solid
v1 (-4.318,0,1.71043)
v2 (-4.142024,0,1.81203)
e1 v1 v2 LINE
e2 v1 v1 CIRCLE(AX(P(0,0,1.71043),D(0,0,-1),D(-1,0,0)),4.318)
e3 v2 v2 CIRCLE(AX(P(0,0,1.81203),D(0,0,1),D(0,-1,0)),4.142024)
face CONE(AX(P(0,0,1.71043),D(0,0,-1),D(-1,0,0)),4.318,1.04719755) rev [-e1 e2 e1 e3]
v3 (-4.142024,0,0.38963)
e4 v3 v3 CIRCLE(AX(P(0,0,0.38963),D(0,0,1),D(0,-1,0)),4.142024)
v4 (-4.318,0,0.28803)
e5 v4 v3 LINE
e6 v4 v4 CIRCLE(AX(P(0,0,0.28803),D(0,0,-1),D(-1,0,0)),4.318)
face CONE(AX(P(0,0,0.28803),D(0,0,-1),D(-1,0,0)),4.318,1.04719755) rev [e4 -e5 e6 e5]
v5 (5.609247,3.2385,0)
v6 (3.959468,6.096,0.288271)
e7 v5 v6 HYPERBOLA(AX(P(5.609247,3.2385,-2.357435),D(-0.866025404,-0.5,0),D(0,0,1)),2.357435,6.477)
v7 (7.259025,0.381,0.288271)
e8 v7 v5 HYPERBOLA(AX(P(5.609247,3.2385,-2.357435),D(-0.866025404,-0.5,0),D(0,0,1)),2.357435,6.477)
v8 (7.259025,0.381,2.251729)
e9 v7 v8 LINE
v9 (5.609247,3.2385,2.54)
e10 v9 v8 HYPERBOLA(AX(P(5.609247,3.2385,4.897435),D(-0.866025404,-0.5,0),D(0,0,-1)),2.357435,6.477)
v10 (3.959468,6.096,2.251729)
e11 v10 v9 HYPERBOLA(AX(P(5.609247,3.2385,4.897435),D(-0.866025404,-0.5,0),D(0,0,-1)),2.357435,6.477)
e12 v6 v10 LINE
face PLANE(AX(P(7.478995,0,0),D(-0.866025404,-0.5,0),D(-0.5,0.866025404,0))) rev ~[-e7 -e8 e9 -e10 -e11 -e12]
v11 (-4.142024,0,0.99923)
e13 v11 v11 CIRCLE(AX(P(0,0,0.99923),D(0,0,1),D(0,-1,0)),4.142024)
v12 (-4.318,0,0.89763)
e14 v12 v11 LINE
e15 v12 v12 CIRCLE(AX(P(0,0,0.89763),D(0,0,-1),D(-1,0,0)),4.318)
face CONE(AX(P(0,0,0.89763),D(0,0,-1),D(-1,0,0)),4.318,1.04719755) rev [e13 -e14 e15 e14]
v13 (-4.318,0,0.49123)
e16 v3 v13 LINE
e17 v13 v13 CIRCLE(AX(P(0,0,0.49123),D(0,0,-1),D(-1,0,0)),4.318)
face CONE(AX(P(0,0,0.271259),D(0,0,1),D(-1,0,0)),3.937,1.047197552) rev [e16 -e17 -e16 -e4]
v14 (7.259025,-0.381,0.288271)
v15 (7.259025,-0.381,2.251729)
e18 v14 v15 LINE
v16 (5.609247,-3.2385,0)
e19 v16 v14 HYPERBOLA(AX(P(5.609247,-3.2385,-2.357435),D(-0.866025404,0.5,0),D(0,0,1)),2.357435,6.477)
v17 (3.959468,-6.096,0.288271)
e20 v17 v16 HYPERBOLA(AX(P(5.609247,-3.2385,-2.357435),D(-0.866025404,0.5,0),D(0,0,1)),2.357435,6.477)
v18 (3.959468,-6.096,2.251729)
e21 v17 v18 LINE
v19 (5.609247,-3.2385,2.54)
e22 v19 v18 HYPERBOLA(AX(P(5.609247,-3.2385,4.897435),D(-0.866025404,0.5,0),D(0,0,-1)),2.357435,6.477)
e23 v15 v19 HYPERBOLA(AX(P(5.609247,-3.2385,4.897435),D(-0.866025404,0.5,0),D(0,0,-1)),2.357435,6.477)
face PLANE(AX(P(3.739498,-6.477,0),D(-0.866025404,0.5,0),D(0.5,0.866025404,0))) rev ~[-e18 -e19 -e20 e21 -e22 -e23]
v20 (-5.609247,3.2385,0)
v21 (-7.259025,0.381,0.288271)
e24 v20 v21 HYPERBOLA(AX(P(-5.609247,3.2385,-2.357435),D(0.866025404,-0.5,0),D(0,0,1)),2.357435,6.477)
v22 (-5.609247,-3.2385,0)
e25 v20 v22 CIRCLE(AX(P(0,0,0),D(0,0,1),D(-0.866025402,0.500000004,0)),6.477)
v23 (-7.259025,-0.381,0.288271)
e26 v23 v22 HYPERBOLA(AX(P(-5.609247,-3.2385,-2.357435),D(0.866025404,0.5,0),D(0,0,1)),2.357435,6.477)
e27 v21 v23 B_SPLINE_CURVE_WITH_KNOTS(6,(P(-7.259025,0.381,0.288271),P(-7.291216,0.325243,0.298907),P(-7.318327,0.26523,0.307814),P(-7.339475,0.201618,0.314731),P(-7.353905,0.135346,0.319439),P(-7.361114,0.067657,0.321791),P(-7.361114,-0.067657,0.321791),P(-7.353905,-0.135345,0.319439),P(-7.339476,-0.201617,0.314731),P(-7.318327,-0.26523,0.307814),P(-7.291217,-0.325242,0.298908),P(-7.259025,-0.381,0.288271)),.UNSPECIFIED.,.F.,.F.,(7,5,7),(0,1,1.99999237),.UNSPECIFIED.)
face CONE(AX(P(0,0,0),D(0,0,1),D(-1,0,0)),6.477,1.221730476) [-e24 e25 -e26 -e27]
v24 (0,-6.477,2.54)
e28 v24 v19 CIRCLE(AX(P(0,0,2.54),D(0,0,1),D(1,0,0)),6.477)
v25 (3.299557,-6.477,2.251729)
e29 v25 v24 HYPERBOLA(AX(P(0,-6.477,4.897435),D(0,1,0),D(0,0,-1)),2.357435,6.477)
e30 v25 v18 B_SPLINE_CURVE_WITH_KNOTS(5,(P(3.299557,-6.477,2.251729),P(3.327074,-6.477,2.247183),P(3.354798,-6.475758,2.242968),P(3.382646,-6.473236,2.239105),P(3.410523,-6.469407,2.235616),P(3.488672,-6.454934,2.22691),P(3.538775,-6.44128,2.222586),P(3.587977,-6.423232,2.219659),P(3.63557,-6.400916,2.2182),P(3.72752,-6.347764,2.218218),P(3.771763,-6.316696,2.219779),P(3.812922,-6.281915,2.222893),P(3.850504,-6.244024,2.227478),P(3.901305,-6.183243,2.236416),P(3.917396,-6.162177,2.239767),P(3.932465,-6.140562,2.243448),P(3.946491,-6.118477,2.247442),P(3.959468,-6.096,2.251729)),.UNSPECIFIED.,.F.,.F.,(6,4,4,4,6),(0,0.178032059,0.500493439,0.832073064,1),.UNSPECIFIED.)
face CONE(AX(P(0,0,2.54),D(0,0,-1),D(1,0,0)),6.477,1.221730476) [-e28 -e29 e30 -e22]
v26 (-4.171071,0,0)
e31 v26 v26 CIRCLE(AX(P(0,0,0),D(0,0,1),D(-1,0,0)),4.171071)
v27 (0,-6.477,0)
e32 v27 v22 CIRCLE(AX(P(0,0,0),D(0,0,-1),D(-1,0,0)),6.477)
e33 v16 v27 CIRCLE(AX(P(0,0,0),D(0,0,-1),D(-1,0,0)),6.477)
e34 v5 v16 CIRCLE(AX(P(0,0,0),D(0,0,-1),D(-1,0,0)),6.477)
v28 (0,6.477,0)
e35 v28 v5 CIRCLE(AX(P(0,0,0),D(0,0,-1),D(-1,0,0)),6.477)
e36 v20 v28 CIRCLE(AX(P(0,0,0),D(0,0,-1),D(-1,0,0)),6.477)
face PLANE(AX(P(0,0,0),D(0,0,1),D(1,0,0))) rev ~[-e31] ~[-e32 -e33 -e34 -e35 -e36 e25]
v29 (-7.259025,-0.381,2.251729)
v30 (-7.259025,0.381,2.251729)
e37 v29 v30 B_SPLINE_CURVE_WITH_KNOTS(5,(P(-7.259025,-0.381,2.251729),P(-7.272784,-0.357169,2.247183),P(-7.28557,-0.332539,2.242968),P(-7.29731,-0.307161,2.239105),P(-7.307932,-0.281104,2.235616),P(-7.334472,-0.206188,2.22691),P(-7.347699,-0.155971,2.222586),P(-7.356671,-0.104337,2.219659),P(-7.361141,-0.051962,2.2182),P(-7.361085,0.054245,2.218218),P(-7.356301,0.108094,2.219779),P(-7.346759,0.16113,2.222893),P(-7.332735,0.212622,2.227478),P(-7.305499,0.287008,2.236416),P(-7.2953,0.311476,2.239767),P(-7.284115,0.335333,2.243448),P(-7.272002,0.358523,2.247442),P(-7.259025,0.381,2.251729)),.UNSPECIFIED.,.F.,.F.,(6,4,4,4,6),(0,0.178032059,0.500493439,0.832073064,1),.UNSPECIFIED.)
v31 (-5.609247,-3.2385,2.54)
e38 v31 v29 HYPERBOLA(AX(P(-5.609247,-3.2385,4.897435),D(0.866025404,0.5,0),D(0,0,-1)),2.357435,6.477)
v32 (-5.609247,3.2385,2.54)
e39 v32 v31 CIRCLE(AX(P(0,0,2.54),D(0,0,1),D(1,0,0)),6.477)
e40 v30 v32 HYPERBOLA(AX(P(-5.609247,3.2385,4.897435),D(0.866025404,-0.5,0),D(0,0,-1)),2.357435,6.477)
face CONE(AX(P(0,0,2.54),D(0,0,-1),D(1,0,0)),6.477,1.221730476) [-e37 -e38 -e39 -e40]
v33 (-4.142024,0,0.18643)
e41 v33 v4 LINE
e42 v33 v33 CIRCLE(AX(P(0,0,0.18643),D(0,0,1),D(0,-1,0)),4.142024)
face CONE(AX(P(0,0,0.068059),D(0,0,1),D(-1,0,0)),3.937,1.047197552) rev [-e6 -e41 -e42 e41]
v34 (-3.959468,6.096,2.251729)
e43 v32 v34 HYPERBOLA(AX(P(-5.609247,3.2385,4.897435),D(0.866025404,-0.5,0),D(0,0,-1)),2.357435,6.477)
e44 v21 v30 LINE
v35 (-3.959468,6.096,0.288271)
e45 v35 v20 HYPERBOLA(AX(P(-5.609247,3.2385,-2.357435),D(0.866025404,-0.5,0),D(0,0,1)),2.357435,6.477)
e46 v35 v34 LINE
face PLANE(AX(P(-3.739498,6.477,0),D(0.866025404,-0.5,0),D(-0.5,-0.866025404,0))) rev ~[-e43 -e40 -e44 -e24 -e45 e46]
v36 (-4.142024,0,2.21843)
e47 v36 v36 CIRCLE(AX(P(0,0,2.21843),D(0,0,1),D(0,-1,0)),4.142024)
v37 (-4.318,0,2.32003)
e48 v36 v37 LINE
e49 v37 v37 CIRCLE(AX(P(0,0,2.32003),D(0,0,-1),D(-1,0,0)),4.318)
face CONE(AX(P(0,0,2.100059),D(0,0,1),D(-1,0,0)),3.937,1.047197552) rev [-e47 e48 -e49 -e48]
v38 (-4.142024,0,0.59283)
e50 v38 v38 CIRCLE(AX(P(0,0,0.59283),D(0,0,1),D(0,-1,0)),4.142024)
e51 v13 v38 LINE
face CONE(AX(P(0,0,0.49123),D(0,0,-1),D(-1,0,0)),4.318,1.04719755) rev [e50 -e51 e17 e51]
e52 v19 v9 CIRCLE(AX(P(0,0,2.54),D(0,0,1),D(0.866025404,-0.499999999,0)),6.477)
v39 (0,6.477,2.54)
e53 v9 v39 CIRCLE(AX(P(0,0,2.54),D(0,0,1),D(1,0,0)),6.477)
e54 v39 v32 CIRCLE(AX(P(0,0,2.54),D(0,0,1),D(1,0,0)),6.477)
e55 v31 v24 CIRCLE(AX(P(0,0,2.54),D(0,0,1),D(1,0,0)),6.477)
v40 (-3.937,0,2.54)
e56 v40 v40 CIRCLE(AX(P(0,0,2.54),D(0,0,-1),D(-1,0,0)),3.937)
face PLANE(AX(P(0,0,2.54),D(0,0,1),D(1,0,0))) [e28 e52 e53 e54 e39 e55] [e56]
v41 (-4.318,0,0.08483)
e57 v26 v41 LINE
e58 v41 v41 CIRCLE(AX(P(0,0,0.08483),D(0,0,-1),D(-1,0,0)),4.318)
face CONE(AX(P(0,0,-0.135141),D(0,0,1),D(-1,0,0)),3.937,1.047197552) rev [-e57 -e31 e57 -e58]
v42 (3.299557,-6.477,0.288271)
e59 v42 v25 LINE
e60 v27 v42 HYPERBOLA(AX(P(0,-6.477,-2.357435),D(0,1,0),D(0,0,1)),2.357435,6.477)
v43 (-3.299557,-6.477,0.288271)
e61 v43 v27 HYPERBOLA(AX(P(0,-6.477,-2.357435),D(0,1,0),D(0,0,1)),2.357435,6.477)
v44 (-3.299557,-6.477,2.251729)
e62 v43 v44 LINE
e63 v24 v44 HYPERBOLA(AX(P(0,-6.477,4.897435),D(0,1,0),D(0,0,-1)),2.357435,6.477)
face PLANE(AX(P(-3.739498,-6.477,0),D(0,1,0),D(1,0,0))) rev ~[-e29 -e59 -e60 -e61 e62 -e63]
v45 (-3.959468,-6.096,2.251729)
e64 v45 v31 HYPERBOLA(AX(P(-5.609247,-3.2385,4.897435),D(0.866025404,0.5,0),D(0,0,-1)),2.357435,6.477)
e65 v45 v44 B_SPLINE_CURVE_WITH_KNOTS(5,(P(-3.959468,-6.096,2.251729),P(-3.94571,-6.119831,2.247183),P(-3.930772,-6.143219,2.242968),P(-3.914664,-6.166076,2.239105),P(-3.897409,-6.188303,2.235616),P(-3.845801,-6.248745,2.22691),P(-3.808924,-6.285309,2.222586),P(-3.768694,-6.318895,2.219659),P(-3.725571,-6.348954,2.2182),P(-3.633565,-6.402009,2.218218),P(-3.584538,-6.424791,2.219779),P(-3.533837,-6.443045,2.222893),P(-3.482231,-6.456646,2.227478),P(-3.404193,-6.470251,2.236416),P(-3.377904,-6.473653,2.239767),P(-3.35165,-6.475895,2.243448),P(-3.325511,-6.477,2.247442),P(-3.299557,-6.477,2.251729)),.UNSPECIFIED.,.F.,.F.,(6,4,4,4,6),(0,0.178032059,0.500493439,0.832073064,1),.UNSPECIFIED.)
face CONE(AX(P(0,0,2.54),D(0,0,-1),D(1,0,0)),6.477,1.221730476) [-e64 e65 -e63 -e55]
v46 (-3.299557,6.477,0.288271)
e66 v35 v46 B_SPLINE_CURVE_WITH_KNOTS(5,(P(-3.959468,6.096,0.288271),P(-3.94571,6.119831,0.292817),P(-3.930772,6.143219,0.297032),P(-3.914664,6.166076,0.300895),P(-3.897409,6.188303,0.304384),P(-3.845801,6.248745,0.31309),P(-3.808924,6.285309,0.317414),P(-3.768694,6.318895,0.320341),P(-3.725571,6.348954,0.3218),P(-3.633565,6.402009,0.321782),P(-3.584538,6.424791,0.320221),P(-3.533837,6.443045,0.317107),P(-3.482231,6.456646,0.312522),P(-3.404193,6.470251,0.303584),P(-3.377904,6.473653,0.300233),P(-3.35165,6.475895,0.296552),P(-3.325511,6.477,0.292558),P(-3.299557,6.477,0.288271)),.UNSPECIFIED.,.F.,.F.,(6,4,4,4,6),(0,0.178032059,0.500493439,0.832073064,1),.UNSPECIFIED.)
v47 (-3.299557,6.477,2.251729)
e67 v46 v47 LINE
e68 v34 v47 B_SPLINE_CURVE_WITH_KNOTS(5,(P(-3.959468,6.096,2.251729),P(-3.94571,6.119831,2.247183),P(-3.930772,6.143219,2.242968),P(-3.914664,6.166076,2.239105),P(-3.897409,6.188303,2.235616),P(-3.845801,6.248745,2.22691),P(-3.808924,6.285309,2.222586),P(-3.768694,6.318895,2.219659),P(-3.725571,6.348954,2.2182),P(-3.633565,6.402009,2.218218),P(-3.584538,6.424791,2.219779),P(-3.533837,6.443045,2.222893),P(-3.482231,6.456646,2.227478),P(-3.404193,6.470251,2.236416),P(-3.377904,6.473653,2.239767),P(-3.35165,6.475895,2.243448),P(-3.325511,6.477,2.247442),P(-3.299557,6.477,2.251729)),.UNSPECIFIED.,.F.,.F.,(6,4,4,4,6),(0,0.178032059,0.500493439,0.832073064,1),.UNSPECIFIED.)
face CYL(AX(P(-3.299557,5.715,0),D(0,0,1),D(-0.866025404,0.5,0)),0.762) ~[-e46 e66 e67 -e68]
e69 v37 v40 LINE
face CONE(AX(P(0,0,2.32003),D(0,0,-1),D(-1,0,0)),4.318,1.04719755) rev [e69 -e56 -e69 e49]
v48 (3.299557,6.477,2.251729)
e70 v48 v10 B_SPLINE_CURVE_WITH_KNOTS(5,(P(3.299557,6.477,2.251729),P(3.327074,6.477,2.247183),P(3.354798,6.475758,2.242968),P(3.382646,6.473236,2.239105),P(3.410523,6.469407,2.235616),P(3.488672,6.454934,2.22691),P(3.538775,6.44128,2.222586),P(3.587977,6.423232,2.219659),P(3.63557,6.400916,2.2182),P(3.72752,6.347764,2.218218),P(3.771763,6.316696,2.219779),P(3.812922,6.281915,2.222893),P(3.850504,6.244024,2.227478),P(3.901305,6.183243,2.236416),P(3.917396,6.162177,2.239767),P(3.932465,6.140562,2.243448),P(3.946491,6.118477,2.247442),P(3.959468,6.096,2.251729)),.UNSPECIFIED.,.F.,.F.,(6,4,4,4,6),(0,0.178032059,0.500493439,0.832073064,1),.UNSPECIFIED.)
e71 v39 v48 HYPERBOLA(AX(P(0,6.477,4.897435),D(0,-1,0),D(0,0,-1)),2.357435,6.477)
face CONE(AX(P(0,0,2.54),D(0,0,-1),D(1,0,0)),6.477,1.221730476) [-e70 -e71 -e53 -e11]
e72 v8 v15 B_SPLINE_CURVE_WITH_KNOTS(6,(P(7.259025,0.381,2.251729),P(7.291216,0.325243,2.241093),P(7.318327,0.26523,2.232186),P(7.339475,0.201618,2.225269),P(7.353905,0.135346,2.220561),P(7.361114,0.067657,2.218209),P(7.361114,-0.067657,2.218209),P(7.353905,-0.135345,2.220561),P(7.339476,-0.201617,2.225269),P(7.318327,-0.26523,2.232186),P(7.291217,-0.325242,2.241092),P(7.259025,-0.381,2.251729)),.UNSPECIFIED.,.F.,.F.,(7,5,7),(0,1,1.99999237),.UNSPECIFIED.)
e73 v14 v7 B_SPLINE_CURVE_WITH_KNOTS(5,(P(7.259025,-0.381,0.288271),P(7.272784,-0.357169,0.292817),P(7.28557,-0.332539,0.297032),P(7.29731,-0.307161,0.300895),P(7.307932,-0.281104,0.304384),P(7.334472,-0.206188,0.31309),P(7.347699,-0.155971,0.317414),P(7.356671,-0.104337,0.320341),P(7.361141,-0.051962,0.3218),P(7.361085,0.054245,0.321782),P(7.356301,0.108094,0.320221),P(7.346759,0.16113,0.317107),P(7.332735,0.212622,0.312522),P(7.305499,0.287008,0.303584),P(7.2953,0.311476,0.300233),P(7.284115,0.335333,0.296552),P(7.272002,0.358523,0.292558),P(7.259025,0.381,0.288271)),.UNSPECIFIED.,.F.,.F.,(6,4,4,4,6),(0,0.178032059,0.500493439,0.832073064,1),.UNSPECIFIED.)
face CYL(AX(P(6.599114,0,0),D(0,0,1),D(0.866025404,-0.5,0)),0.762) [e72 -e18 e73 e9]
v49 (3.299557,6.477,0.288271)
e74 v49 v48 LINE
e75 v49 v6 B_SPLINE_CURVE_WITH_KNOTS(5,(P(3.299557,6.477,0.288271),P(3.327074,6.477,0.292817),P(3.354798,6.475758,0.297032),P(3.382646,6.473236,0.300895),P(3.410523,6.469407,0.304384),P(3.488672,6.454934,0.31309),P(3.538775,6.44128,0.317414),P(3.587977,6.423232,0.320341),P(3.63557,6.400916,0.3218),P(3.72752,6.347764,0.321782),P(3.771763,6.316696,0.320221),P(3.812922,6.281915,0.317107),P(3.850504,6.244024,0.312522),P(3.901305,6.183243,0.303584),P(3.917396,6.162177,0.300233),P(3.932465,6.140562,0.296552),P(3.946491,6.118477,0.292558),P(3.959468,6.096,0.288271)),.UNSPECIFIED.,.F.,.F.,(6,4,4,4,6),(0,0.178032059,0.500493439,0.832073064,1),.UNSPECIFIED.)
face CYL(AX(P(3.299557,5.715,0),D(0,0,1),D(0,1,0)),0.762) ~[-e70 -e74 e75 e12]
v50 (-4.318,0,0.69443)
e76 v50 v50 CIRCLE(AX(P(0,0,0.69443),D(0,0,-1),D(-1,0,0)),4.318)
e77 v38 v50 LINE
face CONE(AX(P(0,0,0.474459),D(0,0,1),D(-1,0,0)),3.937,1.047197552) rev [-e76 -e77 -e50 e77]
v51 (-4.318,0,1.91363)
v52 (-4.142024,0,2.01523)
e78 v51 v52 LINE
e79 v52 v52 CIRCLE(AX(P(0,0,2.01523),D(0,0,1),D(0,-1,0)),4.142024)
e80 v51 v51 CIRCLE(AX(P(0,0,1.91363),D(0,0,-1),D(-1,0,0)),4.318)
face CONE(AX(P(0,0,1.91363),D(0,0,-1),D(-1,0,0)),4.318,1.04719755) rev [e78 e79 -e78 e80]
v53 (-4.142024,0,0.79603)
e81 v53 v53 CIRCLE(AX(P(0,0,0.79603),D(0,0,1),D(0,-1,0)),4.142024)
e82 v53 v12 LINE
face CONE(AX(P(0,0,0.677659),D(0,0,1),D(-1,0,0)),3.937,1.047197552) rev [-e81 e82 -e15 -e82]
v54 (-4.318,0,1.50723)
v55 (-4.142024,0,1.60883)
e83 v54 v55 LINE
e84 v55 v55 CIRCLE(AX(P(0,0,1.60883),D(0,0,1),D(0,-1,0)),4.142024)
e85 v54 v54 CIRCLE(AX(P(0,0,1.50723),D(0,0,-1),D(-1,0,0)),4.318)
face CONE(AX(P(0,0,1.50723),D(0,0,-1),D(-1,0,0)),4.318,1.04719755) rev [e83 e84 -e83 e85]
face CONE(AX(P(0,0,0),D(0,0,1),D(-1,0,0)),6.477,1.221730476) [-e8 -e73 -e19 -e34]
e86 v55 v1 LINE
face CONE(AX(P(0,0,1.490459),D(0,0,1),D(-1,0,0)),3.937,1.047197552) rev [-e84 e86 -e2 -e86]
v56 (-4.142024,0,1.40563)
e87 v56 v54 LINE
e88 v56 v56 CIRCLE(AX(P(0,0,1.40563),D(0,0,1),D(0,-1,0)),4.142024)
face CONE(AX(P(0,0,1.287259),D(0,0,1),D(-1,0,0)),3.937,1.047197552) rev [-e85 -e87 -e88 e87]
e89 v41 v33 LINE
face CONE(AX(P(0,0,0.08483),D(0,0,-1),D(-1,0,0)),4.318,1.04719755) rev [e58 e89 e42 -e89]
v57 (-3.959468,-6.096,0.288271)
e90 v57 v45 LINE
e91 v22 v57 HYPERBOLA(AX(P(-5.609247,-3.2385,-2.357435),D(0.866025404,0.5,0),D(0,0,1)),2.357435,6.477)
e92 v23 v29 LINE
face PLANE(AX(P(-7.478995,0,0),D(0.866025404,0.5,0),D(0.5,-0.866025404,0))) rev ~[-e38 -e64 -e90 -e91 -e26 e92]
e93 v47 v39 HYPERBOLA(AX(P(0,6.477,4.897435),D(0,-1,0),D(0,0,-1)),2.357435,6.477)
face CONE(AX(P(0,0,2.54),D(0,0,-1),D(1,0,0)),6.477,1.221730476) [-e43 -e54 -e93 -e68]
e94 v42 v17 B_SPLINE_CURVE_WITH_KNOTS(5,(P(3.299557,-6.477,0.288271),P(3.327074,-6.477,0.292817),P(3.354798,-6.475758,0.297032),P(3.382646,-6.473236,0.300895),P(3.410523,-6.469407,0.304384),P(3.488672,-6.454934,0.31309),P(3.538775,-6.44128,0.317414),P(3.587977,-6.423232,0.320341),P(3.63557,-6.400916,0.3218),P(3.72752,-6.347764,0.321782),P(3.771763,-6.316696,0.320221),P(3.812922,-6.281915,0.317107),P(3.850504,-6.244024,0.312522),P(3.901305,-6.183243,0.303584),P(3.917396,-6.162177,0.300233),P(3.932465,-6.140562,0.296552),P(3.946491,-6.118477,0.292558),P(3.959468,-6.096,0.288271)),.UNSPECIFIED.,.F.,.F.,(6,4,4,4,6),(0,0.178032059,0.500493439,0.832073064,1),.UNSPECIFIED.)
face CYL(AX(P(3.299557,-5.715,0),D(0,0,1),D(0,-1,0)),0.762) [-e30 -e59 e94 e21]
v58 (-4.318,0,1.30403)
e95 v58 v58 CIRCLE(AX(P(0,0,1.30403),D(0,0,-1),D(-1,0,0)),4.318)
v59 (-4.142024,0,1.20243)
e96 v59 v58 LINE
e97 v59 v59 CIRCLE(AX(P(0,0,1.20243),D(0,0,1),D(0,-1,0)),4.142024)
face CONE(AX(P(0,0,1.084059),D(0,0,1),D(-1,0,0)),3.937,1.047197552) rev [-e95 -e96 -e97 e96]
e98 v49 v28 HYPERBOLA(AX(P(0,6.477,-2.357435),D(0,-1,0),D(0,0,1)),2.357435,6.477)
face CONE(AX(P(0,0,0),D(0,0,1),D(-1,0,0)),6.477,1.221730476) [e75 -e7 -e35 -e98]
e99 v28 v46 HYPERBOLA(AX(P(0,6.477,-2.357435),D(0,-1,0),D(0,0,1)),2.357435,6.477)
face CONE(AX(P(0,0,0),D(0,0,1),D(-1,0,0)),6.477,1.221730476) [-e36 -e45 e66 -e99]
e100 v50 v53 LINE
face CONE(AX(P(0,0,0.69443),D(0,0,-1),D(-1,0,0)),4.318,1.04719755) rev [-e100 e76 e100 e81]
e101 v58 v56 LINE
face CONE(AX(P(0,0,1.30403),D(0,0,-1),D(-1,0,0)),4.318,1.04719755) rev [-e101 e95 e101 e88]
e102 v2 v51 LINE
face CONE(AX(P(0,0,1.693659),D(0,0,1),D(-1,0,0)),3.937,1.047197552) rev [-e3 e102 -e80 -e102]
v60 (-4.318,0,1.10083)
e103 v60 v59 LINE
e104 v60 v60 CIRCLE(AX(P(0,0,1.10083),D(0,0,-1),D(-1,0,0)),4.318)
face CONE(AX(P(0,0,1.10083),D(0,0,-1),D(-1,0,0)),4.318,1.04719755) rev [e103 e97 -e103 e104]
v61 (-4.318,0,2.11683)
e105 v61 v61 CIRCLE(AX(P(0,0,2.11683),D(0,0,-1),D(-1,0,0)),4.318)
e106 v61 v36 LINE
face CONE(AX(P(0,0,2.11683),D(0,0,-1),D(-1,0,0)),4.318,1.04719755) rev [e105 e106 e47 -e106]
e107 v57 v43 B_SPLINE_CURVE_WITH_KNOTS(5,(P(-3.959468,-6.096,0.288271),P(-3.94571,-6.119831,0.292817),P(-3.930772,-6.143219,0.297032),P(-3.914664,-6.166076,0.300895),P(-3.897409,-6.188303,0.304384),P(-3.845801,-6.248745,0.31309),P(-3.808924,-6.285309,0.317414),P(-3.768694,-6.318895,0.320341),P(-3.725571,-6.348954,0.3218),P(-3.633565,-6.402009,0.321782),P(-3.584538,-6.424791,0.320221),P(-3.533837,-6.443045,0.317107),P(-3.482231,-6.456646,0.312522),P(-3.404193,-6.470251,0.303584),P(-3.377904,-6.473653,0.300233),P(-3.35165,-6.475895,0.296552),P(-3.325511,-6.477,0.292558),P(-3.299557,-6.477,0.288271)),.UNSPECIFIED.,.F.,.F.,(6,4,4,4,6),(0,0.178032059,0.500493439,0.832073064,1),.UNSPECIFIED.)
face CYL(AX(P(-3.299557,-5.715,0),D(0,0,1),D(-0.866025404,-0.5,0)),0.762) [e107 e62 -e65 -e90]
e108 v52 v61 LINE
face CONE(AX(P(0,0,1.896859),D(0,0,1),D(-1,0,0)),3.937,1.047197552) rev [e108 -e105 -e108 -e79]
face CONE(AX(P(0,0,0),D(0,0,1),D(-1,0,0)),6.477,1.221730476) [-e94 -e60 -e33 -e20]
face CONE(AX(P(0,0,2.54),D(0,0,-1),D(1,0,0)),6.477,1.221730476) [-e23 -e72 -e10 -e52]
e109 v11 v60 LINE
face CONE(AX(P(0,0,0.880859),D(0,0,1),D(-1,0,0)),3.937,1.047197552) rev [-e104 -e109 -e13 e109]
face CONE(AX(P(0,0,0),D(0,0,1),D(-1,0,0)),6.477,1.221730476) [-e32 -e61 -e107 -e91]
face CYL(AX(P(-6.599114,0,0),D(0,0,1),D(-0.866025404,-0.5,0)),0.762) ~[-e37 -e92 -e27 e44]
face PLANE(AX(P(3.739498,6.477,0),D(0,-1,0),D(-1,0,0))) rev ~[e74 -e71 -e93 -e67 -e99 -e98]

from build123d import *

# Parameters (mm, degrees)
SKETCH1_R          = 3.937
EXTRUDE1_DEPTH     = 2.54
FILLET1_R          = 0.762
SKETCH2_OUTSIDE_W  = 40.128
SKETCH2_OUTSIDE_H  = 38.36
SKETCH2_OUTSIDE_R  = 6.477
CUT_EXTRUDE1_DEPTH = 3.54
CUT_EXTRUDE1_DRAFT = -70
SKETCH3_OUTSIDE_W  = 40.128
SKETCH3_OUTSIDE_H  = 38.36
SKETCH3_OUTSIDE_R  = 6.477
CUT_EXTRUDE2_DEPTH = 3.5400001
CUT_EXTRUDE2_DRAFT = -70
LPATTERN1_COUNT    = 13
LPATTERN1_PITCH    = 0.2032


with BuildPart() as part:
    # Sketch1 → Extrude1 (new body)
    with BuildSketch(Plane.XY):
        Polygon((-7.478995387, 0), (-3.739497694, -6.477), (3.739497694, -6.477), (7.478995387, 0), (3.739497694, 6.477), (-3.739497694, 6.477), align=None)
        Circle(SKETCH1_R, mode=Mode.SUBTRACT)
    extrude(amount=EXTRUDE1_DEPTH)

    # Fillet1
    fillet1_edges = [part.edges().sort_by_distance(p)[0] for p in [
        (7.478995387, 0, 1.27),
        (3.739497694, -6.477, 1.27),
        (-3.739497694, -6.477, 1.27),
        (-7.478995387, 0, 1.27),
        (-3.739497694, 6.477, 1.27),
        (3.739497694, 6.477, 1.27),
    ]]
    fillet(fillet1_edges, radius=FILLET1_R)


with BuildPart() as cut_extrude1_tool:
    # Sketch2 outside → Cut-Extrude1 (with draft: the straight prism first)
    with BuildSketch(Plane.XY.offset(2.54)):
        Rectangle(SKETCH2_OUTSIDE_W, SKETCH2_OUTSIDE_H)
        Circle(SKETCH2_OUTSIDE_R, mode=Mode.SUBTRACT)
    extrude(amount=-CUT_EXTRUDE1_DEPTH)
    # Cut-Extrude1: the draft: its side faces are tilted about the plane it starts from
    cut_extrude1_sides = [cut_extrude1_tool.faces().sort_by_distance(p)[0] for p in [
        (0, -19.18, 0.77),
        (20.064, 0, 0.77),
        (0, 19.18, 0.77),
        (-20.064, 0, 0.77),
        (-6.477, 0, 0.77),
    ]]
    draft(cut_extrude1_sides, Plane.XY.offset(2.54), CUT_EXTRUDE1_DRAFT)


with BuildPart() as part_1:
    add(part.part)

    # Cut-Extrude1: cut by cut_extrude1_tool
    add(cut_extrude1_tool.part, mode=Mode.SUBTRACT)


with BuildPart() as cut_extrude2_tool:
    # Sketch3 outside → Cut-Extrude2 (with draft: the straight prism first)
    with BuildSketch(Plane(origin=(0, 0, 0), x_dir=(-1, 0, 0), z_dir=(0, 0, -1))):
        Rectangle(SKETCH3_OUTSIDE_W, SKETCH3_OUTSIDE_H)
        Circle(SKETCH3_OUTSIDE_R, mode=Mode.SUBTRACT)
    extrude(amount=-CUT_EXTRUDE2_DEPTH)
    # Cut-Extrude2: the draft: its side faces are tilted about the plane it starts from
    cut_extrude2_sides = [cut_extrude2_tool.faces().sort_by_distance(p)[0] for p in [
        (0, -19.18, 1.77000005),
        (-20.064, 0, 1.77000005),
        (0, 19.18, 1.77000005),
        (20.064, 0, 1.77000005),
        (6.477, 0, 1.77000005),
    ]]
    draft(cut_extrude2_sides, Plane(origin=(0, 0, 0), x_dir=(-1, 0, 0), z_dir=(0, 0, -1)), CUT_EXTRUDE2_DRAFT)


with BuildPart() as part_2:
    add(part_1.part)

    # Cut-Extrude2: cut by cut_extrude2_tool
    add(cut_extrude2_tool.part, mode=Mode.SUBTRACT)

    # Sketch4 → Cut-Revolve1 (revolve, cut)
    with BuildSketch(Plane(origin=(0, 0, 0), x_dir=(1, 0, 0), z_dir=(0, 1, 0))):
        Polygon((-3.937, -2.54), (-3.937, -2.100059095), (-4.318, -2.320029547), align=None)
    cut_revolve1 = revolve(axis=Axis((0, 0, 2.54), (0, 0, -1)), mode=Mode.SUBTRACT)

    # LPattern1: Cut-Revolve1 ×13
    with Locations(*[(0, 0, -i * LPATTERN1_PITCH) for i in range(1, LPATTERN1_COUNT)]):
        add(cut_revolve1, mode=Mode.SUBTRACT)


solid = part_2.part
